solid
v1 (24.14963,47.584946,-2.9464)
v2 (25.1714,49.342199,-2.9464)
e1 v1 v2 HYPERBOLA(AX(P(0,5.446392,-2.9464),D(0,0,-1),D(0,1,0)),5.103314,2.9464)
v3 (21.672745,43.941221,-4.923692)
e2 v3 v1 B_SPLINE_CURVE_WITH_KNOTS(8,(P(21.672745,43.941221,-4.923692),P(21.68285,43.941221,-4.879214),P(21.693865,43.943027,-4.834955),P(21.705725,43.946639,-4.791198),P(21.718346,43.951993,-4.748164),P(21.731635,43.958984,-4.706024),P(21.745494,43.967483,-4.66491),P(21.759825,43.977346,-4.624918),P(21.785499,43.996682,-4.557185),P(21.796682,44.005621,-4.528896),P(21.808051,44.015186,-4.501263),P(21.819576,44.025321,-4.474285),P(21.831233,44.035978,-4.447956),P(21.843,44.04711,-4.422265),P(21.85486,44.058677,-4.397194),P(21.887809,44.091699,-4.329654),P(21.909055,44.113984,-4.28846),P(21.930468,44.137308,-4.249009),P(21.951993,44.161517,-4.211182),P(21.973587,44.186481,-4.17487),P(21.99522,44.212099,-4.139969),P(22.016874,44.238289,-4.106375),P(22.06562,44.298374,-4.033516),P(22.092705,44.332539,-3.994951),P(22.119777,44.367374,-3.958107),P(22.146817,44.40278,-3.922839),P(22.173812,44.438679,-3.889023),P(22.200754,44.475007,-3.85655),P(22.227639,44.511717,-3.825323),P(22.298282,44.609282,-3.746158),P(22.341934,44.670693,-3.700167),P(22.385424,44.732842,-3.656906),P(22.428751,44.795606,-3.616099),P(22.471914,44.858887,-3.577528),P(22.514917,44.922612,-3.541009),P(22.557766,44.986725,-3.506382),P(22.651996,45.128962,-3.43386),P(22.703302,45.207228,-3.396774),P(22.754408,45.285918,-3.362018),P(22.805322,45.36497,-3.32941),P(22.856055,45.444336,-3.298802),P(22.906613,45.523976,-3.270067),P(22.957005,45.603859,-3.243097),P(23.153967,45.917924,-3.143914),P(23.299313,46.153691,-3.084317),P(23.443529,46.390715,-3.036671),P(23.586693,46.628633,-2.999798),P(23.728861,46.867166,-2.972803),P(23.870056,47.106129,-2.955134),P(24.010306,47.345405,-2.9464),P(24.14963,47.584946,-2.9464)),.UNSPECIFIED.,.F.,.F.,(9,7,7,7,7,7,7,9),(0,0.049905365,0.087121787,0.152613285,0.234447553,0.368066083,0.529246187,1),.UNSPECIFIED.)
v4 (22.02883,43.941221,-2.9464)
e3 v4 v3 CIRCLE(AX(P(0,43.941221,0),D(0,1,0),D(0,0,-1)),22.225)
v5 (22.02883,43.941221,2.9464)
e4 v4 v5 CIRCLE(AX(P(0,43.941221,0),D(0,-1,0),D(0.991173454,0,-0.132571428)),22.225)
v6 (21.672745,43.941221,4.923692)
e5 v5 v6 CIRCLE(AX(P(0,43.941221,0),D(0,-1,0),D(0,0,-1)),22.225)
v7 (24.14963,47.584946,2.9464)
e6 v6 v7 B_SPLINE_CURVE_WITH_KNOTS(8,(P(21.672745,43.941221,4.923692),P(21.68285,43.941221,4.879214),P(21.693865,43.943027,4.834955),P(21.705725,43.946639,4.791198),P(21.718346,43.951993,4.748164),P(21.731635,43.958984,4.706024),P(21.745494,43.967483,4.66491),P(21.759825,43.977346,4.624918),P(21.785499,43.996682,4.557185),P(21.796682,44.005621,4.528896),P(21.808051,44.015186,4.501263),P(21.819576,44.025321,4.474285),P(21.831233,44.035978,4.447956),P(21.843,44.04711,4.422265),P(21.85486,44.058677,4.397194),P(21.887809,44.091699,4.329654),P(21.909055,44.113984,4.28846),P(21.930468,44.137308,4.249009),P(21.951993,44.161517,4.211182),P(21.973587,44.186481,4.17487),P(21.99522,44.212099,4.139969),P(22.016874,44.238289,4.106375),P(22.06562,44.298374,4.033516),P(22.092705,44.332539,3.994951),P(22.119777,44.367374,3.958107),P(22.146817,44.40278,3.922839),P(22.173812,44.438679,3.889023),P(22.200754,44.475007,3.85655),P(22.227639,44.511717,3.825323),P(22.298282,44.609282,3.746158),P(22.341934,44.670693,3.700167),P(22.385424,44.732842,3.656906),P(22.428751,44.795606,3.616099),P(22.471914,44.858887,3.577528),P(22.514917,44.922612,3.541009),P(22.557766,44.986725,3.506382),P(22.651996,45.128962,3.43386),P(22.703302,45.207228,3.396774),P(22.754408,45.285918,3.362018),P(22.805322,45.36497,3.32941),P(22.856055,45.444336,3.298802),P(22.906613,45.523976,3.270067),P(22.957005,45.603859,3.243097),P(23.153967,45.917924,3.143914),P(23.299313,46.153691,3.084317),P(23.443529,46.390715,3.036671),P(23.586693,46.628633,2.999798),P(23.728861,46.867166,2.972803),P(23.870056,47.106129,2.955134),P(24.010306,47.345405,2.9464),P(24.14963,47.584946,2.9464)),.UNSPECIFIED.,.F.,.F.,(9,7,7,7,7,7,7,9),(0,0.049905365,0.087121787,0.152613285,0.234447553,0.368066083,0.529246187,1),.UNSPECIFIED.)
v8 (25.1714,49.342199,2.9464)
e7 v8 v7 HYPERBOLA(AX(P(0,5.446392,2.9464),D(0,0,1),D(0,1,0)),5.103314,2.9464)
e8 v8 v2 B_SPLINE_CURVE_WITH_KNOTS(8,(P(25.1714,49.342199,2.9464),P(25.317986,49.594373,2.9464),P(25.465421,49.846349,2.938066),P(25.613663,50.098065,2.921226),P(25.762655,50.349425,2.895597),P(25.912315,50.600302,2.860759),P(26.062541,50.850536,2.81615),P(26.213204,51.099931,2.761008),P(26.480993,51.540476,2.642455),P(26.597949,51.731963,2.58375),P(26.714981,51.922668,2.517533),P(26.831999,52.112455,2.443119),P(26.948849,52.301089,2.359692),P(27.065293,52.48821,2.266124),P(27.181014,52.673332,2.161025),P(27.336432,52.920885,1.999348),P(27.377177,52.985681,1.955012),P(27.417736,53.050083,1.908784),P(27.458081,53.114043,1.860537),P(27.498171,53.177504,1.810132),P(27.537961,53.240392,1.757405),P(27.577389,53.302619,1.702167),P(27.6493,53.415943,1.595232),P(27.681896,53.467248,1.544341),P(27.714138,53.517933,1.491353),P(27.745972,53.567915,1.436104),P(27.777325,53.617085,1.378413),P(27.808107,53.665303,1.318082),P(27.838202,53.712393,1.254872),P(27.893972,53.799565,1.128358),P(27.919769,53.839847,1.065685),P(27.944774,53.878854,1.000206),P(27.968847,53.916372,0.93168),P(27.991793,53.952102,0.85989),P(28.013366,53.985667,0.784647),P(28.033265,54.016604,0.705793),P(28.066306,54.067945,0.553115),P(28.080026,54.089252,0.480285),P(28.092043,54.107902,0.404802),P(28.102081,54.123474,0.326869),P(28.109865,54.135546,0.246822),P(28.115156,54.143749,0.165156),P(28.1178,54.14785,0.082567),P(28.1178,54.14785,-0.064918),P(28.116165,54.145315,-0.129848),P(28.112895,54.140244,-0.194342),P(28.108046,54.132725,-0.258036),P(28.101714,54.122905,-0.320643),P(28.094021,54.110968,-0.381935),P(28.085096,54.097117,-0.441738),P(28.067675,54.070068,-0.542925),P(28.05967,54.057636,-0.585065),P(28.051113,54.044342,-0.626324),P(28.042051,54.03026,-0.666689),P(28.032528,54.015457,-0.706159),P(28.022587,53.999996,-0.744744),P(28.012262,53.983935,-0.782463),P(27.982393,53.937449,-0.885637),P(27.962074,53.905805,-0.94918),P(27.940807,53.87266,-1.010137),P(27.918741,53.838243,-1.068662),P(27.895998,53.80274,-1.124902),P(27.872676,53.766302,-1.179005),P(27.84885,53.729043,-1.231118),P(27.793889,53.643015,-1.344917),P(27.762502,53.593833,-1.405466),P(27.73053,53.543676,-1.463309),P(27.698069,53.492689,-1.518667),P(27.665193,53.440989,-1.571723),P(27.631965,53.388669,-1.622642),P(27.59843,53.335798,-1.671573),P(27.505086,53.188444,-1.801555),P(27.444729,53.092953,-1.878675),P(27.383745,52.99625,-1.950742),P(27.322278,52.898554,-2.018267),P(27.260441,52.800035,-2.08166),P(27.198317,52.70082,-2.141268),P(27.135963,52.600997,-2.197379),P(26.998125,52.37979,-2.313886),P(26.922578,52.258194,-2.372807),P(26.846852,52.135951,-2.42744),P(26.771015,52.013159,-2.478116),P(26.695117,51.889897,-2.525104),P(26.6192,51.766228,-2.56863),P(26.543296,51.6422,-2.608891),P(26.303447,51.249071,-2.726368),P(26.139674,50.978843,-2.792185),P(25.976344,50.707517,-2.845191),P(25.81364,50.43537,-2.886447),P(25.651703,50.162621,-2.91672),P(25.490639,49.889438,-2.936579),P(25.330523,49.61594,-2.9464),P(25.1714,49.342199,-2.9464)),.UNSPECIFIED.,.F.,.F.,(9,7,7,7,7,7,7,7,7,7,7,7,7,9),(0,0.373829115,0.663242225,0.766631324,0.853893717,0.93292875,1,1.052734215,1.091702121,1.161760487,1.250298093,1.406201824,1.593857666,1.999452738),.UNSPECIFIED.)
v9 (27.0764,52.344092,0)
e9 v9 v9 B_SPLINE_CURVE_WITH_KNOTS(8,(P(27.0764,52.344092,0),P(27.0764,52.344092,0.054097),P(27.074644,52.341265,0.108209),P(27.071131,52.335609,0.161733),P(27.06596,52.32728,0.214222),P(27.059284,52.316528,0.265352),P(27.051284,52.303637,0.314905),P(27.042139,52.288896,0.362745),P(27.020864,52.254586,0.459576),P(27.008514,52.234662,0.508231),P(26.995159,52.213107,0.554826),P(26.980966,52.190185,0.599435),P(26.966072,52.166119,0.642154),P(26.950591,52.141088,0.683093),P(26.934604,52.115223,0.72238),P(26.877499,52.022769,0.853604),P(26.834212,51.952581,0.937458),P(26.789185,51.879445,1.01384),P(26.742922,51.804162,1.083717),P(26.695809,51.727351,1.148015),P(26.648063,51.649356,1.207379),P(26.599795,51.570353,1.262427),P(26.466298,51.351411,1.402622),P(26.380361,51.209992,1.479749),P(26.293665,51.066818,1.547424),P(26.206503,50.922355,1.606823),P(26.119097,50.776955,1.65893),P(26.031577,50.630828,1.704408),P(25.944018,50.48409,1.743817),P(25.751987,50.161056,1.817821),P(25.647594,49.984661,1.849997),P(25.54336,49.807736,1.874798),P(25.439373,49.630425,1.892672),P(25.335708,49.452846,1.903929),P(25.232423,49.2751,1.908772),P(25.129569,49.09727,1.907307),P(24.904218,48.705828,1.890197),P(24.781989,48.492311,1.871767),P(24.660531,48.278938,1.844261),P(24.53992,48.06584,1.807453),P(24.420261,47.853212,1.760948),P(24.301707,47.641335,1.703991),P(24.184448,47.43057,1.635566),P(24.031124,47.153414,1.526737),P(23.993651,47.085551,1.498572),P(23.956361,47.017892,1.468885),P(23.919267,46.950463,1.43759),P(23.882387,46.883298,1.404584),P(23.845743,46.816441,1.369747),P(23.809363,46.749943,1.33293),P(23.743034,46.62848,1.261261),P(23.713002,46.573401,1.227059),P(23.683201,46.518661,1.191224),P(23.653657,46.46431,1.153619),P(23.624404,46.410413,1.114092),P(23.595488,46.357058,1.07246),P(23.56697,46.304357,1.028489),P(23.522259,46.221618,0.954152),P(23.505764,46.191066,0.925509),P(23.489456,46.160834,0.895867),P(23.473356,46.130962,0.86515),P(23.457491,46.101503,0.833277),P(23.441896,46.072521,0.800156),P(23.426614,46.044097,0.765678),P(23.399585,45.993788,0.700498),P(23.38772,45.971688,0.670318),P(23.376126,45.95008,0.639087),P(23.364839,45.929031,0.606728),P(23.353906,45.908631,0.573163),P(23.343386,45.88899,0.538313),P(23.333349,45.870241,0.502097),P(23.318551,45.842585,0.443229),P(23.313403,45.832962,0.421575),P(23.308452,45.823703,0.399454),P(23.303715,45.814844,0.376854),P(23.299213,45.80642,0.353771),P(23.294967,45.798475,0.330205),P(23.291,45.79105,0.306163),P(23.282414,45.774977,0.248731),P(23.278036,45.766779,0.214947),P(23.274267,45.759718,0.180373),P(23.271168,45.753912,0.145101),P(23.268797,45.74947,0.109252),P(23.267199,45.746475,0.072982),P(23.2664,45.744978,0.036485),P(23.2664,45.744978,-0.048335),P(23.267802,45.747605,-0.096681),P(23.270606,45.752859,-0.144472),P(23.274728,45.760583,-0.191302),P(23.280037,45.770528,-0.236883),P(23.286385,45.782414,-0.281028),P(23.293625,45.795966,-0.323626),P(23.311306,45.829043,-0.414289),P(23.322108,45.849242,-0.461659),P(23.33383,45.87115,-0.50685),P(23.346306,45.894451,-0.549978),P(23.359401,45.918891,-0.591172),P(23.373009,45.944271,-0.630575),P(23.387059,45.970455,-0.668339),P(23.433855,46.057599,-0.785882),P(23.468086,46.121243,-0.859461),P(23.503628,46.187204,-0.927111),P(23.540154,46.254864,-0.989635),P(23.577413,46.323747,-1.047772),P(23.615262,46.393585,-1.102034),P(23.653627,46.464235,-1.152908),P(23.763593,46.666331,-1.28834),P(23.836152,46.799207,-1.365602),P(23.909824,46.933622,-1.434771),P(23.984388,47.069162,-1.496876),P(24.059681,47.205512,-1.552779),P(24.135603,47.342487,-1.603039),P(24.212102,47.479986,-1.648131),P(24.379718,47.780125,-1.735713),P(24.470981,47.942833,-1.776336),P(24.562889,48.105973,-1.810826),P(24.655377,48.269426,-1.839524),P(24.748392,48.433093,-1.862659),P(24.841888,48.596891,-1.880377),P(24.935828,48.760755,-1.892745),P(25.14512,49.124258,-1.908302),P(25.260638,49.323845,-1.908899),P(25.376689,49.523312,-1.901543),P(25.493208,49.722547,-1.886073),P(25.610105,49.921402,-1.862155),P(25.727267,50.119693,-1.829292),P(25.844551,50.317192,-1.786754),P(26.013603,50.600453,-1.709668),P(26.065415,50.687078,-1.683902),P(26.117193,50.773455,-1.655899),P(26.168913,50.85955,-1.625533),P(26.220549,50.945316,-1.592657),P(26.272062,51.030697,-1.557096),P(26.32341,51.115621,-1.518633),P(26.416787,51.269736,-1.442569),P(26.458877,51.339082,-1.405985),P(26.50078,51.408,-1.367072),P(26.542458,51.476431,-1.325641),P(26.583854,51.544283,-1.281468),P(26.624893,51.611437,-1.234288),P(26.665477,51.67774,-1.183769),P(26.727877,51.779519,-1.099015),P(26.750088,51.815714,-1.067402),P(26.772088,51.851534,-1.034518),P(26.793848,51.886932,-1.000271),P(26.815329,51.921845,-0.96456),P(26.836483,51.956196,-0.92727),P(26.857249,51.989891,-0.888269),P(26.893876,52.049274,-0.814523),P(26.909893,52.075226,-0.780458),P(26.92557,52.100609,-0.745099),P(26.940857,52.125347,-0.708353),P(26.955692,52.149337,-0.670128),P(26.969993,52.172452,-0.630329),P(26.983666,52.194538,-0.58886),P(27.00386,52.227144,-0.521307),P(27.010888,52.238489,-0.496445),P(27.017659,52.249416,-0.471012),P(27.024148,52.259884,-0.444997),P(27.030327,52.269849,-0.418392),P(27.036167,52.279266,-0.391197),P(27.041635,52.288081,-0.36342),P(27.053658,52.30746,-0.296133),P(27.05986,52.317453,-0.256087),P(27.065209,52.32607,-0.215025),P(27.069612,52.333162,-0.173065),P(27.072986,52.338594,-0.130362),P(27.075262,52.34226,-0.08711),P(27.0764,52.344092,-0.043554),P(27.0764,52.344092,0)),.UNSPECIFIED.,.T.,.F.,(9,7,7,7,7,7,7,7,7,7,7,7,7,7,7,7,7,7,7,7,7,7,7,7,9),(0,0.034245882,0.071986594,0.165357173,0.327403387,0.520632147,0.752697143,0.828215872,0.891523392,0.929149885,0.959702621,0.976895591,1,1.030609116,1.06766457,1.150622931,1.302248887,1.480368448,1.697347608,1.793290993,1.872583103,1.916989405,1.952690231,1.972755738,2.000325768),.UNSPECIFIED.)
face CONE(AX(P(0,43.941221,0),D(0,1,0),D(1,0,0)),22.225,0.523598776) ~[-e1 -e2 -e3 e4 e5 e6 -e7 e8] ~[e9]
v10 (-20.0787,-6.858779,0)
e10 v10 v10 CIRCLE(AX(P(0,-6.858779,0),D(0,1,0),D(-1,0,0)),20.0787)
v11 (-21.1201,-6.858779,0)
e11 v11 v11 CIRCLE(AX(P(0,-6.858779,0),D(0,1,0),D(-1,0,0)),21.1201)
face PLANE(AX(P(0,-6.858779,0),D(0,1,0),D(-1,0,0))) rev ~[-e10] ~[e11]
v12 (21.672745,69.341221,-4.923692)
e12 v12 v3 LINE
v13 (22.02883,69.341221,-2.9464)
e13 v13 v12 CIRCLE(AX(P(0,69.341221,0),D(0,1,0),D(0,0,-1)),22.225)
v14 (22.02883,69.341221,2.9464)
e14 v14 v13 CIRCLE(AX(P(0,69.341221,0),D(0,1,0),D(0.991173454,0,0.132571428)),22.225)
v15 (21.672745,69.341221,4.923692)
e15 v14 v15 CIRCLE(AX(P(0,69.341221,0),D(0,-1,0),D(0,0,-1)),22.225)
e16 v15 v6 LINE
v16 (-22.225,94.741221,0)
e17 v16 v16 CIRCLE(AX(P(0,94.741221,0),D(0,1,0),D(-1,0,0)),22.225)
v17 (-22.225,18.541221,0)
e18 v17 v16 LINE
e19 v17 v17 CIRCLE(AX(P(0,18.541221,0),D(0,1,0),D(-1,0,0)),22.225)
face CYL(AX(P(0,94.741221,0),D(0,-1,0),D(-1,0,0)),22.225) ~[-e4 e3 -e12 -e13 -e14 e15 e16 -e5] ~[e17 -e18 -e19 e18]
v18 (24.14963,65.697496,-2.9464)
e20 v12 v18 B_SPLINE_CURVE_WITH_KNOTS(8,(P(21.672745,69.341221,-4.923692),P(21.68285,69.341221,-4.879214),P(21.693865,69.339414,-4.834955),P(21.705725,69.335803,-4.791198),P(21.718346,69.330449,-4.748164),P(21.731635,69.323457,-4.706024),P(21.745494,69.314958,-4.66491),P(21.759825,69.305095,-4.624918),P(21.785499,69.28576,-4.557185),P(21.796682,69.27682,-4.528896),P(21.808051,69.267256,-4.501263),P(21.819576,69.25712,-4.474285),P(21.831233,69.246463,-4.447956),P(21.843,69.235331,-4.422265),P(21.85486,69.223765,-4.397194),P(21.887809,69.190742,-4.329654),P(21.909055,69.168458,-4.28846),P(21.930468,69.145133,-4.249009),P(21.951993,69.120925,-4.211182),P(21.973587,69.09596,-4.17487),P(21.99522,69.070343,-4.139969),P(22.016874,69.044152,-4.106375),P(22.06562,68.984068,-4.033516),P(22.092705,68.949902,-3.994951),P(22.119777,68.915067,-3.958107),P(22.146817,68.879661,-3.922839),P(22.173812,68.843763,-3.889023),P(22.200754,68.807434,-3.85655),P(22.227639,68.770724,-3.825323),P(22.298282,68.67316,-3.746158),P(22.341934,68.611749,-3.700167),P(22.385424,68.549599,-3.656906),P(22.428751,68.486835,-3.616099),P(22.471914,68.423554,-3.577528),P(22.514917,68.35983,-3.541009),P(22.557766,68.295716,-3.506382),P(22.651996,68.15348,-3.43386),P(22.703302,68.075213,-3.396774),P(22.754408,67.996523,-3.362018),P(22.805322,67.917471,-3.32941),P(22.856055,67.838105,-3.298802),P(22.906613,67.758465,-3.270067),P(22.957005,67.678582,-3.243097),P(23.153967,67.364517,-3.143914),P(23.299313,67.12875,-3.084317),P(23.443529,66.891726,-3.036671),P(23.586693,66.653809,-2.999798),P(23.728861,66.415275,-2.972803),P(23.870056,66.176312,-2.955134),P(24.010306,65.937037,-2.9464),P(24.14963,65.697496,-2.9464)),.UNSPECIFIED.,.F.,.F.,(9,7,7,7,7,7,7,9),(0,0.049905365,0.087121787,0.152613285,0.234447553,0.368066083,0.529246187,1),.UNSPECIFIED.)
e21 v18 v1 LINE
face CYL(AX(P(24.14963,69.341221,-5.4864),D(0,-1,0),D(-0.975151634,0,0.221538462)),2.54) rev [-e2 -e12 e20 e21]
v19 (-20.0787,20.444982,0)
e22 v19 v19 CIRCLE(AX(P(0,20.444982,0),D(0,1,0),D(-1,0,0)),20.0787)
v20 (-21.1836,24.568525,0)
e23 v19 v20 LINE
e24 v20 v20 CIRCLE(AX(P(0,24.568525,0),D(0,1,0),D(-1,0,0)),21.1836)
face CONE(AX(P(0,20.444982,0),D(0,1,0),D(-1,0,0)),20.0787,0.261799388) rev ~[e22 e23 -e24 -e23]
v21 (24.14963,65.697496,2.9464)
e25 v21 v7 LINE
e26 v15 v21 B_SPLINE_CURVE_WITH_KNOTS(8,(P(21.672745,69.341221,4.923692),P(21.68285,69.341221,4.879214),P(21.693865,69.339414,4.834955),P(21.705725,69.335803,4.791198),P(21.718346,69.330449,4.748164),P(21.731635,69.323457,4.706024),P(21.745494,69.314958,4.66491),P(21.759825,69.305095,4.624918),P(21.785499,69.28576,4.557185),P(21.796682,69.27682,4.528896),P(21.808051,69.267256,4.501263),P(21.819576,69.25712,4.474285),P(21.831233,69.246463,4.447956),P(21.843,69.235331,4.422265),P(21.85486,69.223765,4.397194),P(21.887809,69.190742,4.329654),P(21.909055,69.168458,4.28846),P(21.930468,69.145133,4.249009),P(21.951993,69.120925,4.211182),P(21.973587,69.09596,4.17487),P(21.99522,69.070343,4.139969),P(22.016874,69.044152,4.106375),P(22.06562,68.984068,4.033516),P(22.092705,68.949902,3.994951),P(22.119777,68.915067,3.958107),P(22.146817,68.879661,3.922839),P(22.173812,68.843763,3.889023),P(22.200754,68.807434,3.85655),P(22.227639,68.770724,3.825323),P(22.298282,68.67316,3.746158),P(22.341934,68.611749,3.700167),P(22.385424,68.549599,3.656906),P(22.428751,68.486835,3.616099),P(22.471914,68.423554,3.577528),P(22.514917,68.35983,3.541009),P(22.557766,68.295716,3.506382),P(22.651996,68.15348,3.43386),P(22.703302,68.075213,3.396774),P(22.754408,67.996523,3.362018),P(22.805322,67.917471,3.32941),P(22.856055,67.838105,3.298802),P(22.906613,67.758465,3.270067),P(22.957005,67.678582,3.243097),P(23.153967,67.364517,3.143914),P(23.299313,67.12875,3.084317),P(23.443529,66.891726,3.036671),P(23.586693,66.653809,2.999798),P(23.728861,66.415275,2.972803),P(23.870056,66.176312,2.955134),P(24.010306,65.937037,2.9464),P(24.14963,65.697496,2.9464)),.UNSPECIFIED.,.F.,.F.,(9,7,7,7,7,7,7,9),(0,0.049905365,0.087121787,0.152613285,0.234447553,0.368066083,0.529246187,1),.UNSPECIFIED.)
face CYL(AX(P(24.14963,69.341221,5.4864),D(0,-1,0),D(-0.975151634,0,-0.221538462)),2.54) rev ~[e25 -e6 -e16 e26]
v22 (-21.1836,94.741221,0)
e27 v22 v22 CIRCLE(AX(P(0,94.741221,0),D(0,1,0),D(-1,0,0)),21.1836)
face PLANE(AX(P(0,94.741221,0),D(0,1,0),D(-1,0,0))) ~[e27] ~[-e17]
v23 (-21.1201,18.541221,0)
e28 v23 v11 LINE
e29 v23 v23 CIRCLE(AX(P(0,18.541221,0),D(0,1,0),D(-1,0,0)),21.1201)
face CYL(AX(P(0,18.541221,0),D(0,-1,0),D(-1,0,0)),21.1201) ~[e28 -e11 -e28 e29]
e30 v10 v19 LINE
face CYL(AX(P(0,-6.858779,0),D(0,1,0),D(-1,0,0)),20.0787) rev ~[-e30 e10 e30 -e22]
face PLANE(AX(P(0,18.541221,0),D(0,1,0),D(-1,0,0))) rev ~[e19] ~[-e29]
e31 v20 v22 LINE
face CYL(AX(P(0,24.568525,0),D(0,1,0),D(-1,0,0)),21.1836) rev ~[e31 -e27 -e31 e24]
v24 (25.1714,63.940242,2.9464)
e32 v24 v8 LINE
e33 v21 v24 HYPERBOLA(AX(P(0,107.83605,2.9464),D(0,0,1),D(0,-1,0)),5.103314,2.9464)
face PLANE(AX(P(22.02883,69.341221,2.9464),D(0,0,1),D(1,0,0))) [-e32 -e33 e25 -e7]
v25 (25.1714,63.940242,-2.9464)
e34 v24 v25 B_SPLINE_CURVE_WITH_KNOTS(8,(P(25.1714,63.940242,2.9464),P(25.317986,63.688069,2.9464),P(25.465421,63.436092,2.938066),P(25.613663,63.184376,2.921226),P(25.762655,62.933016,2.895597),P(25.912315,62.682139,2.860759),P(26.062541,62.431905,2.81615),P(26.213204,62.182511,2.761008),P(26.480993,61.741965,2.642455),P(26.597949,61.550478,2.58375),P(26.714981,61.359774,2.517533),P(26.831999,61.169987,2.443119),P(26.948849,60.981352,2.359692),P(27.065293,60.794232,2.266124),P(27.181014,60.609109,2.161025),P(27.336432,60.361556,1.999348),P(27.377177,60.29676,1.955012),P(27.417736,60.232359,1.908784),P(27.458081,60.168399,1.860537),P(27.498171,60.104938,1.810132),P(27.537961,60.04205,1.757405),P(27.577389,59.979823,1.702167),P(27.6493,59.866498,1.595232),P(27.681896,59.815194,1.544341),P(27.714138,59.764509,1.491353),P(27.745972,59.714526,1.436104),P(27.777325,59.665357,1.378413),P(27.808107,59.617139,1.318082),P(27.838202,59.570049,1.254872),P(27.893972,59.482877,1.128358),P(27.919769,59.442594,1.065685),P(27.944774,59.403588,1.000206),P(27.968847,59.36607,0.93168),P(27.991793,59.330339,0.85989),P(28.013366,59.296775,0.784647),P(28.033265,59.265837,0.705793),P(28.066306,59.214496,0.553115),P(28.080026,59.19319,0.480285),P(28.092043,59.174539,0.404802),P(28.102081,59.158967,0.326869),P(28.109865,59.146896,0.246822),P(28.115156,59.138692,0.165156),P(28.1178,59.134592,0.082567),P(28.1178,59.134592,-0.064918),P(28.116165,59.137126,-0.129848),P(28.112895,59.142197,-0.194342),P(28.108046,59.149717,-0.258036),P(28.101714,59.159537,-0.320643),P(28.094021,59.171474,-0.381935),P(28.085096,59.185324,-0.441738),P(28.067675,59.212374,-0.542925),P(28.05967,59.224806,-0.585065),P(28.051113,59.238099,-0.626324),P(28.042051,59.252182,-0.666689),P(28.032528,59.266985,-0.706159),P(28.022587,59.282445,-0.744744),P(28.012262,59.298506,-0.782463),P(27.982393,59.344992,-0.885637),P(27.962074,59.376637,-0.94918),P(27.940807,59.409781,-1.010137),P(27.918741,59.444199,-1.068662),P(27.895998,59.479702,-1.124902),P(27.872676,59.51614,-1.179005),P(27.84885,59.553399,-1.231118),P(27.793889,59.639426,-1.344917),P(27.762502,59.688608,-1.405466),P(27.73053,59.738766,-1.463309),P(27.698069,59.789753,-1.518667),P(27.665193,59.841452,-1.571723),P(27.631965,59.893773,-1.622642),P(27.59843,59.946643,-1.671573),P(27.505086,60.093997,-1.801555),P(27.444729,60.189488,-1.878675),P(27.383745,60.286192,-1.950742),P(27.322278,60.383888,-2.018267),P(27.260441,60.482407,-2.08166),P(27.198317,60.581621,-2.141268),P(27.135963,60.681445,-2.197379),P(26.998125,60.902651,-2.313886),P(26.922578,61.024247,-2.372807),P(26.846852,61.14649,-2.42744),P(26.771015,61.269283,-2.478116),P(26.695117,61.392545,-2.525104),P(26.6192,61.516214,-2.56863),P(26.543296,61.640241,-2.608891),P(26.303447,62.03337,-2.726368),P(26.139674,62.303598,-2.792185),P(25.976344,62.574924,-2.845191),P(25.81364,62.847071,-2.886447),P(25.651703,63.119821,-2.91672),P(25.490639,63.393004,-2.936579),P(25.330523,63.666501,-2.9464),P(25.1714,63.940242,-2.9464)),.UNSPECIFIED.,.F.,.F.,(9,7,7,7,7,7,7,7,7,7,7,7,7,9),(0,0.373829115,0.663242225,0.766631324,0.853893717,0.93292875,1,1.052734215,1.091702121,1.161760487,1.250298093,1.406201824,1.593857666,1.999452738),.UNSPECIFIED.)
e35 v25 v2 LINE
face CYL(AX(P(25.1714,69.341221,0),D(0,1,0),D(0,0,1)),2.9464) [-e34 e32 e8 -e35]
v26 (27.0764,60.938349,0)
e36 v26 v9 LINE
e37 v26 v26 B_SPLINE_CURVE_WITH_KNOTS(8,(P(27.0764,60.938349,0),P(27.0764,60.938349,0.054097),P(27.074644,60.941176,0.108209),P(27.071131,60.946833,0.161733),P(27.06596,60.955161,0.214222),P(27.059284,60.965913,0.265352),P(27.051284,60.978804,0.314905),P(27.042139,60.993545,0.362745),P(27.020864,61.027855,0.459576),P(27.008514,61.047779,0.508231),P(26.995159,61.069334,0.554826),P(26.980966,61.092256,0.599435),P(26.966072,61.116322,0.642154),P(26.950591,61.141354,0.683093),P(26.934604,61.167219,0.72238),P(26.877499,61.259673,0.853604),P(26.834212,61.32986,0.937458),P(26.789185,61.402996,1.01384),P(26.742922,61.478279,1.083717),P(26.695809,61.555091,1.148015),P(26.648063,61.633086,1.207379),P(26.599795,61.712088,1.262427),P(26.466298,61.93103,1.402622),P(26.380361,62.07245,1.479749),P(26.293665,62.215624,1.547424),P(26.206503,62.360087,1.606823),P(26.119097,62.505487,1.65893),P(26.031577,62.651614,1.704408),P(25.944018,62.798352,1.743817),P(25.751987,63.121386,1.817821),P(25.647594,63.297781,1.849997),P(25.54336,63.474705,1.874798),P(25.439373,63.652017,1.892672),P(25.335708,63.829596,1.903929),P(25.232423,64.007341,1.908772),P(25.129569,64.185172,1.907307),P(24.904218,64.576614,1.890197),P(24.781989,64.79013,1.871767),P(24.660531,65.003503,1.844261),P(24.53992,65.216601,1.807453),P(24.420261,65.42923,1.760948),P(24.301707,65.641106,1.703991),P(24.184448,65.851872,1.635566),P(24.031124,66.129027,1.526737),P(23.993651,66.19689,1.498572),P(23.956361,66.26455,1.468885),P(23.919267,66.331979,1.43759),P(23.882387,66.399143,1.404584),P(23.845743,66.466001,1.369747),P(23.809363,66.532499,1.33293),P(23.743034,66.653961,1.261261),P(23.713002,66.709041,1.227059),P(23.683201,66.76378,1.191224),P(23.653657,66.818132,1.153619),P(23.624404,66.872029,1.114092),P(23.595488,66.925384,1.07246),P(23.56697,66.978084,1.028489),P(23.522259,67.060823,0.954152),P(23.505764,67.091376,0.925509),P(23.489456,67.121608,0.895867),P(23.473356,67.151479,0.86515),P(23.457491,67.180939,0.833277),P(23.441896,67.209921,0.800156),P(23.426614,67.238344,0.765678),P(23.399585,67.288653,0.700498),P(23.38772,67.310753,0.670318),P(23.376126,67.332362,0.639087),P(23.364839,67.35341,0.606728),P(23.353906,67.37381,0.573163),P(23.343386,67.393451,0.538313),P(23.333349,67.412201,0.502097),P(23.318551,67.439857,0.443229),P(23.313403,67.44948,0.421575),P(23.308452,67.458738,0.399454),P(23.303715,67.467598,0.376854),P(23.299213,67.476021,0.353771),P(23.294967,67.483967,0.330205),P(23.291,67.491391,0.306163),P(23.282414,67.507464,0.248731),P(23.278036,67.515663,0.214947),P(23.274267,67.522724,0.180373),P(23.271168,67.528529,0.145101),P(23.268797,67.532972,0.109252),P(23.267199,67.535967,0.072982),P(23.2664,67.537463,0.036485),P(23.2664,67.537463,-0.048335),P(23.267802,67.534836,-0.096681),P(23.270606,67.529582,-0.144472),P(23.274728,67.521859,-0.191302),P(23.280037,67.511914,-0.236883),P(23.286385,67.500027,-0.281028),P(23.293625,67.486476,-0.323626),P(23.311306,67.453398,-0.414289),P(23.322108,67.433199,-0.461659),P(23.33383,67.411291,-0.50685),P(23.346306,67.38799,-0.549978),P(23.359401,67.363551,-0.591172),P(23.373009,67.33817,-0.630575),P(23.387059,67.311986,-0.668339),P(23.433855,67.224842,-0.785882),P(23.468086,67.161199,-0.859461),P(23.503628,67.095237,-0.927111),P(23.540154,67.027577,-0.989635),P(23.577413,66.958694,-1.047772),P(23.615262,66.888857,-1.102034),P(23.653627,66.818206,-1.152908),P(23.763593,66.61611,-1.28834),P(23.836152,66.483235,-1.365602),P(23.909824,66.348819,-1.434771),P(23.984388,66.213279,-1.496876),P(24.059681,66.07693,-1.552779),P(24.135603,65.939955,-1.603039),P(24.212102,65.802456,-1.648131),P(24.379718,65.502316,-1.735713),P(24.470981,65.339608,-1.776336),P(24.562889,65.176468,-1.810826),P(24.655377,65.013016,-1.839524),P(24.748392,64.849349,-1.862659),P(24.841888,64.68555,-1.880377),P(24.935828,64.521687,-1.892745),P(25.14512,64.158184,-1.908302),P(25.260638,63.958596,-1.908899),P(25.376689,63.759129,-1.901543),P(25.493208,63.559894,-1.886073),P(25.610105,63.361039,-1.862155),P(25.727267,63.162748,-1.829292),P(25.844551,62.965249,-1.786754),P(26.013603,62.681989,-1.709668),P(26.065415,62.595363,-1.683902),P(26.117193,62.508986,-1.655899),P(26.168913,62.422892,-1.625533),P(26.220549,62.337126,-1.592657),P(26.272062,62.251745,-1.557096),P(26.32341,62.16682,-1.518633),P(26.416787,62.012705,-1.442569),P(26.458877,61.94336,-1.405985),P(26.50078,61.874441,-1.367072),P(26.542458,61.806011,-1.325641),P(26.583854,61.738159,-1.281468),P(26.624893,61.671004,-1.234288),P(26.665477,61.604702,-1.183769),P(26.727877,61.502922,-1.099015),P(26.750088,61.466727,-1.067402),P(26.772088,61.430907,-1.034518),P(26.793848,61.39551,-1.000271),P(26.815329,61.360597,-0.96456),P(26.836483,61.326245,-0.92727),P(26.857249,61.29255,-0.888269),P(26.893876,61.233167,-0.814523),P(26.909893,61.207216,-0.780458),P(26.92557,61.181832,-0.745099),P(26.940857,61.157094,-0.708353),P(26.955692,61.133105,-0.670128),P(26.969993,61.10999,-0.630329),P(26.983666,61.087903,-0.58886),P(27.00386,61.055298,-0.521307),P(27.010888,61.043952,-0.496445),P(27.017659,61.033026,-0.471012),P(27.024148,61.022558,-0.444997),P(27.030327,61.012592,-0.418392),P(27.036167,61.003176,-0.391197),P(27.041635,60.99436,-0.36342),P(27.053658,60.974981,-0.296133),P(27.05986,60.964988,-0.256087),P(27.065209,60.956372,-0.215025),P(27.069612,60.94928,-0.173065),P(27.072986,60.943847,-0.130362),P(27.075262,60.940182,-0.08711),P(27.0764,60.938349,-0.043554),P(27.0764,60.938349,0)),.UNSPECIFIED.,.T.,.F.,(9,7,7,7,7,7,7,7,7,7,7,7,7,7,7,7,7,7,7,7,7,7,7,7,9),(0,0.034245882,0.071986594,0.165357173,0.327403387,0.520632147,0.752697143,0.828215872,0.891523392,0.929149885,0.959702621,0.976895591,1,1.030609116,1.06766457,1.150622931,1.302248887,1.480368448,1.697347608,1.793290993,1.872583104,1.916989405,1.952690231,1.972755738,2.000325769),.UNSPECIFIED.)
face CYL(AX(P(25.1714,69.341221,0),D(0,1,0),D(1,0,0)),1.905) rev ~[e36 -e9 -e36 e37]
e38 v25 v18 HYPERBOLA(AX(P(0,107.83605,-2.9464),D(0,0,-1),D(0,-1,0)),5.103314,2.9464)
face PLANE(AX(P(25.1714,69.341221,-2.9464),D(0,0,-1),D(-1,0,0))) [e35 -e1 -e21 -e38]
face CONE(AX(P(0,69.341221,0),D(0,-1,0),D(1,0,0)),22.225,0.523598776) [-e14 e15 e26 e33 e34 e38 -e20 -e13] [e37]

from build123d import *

# Parameters (mm, degrees)
BOSS_EXTRUDE1_START = -25.4
SKETCH2_R           = 1.905
BOSS_EXTRUDE1_DEPTH = 25.4
FILLET1_R           = 2.54


with BuildPart() as part:
    # Sketch1 → Revolve1 (revolve)
    with BuildSketch(Plane.XY):
        Polygon((-20.0787, -6.858779284), (-20.0787, 20.444981856), (-21.1836, 24.568524793), (-21.1836, 94.741220716), (-22.225, 94.741220716), (-22.225, 18.541220716), (-21.1201, 18.541220716), (-21.1201, -6.858779284), align=None)
    revolve(axis=Axis((0, 0, 0), (0, 1, 0)))

    # Sketch2 → Boss-Extrude1 (add)
    with BuildSketch(Plane(origin=(0, 94.741220716, 0), x_dir=(1, 0, 0), z_dir=(0, 1, 0)).offset(BOSS_EXTRUDE1_START)):
        with BuildLine():
            Line((25.1714, 2.9464), (22.02883002, 2.9464))
            ThreePointArc((22.02883002, 2.9464), (22.225, 0), (22.02883002, -2.9464))
            Line((22.02883002, -2.9464), (25.1714, -2.9464))
            ThreePointArc((25.1714, -2.9464), (28.1178, 0), (25.1714, 2.9464))
        make_face()
        with Locations((25.1714, 0)):
            Circle(SKETCH2_R, mode=Mode.SUBTRACT)
    extrude(amount=-BOSS_EXTRUDE1_DEPTH)

    # Fillet1
    fillet1_edges = [part.edges().sort_by_distance(p)[0] for p in [
        (22.02883002, 56.641220716, 2.9464),
        (22.02883002, 56.641220716, -2.9464),
    ]]
    fillet(fillet1_edges, radius=FILLET1_R)

    # Sketch3 → Cut-Revolve2 (revolve, cut)
    with BuildSketch(Plane.XY):
        Polygon((22.225, 69.341220716), (28.1178, 59.134591717), (28.1178, 69.341220716), align=None)
        Polygon((22.225, 43.941220716), (28.1178, 54.147849715), (28.1178, 43.941220716), align=None)
    revolve(axis=Axis((0, 0, 0), (0, -1, 0)), mode=Mode.SUBTRACT)


solid = part.part
